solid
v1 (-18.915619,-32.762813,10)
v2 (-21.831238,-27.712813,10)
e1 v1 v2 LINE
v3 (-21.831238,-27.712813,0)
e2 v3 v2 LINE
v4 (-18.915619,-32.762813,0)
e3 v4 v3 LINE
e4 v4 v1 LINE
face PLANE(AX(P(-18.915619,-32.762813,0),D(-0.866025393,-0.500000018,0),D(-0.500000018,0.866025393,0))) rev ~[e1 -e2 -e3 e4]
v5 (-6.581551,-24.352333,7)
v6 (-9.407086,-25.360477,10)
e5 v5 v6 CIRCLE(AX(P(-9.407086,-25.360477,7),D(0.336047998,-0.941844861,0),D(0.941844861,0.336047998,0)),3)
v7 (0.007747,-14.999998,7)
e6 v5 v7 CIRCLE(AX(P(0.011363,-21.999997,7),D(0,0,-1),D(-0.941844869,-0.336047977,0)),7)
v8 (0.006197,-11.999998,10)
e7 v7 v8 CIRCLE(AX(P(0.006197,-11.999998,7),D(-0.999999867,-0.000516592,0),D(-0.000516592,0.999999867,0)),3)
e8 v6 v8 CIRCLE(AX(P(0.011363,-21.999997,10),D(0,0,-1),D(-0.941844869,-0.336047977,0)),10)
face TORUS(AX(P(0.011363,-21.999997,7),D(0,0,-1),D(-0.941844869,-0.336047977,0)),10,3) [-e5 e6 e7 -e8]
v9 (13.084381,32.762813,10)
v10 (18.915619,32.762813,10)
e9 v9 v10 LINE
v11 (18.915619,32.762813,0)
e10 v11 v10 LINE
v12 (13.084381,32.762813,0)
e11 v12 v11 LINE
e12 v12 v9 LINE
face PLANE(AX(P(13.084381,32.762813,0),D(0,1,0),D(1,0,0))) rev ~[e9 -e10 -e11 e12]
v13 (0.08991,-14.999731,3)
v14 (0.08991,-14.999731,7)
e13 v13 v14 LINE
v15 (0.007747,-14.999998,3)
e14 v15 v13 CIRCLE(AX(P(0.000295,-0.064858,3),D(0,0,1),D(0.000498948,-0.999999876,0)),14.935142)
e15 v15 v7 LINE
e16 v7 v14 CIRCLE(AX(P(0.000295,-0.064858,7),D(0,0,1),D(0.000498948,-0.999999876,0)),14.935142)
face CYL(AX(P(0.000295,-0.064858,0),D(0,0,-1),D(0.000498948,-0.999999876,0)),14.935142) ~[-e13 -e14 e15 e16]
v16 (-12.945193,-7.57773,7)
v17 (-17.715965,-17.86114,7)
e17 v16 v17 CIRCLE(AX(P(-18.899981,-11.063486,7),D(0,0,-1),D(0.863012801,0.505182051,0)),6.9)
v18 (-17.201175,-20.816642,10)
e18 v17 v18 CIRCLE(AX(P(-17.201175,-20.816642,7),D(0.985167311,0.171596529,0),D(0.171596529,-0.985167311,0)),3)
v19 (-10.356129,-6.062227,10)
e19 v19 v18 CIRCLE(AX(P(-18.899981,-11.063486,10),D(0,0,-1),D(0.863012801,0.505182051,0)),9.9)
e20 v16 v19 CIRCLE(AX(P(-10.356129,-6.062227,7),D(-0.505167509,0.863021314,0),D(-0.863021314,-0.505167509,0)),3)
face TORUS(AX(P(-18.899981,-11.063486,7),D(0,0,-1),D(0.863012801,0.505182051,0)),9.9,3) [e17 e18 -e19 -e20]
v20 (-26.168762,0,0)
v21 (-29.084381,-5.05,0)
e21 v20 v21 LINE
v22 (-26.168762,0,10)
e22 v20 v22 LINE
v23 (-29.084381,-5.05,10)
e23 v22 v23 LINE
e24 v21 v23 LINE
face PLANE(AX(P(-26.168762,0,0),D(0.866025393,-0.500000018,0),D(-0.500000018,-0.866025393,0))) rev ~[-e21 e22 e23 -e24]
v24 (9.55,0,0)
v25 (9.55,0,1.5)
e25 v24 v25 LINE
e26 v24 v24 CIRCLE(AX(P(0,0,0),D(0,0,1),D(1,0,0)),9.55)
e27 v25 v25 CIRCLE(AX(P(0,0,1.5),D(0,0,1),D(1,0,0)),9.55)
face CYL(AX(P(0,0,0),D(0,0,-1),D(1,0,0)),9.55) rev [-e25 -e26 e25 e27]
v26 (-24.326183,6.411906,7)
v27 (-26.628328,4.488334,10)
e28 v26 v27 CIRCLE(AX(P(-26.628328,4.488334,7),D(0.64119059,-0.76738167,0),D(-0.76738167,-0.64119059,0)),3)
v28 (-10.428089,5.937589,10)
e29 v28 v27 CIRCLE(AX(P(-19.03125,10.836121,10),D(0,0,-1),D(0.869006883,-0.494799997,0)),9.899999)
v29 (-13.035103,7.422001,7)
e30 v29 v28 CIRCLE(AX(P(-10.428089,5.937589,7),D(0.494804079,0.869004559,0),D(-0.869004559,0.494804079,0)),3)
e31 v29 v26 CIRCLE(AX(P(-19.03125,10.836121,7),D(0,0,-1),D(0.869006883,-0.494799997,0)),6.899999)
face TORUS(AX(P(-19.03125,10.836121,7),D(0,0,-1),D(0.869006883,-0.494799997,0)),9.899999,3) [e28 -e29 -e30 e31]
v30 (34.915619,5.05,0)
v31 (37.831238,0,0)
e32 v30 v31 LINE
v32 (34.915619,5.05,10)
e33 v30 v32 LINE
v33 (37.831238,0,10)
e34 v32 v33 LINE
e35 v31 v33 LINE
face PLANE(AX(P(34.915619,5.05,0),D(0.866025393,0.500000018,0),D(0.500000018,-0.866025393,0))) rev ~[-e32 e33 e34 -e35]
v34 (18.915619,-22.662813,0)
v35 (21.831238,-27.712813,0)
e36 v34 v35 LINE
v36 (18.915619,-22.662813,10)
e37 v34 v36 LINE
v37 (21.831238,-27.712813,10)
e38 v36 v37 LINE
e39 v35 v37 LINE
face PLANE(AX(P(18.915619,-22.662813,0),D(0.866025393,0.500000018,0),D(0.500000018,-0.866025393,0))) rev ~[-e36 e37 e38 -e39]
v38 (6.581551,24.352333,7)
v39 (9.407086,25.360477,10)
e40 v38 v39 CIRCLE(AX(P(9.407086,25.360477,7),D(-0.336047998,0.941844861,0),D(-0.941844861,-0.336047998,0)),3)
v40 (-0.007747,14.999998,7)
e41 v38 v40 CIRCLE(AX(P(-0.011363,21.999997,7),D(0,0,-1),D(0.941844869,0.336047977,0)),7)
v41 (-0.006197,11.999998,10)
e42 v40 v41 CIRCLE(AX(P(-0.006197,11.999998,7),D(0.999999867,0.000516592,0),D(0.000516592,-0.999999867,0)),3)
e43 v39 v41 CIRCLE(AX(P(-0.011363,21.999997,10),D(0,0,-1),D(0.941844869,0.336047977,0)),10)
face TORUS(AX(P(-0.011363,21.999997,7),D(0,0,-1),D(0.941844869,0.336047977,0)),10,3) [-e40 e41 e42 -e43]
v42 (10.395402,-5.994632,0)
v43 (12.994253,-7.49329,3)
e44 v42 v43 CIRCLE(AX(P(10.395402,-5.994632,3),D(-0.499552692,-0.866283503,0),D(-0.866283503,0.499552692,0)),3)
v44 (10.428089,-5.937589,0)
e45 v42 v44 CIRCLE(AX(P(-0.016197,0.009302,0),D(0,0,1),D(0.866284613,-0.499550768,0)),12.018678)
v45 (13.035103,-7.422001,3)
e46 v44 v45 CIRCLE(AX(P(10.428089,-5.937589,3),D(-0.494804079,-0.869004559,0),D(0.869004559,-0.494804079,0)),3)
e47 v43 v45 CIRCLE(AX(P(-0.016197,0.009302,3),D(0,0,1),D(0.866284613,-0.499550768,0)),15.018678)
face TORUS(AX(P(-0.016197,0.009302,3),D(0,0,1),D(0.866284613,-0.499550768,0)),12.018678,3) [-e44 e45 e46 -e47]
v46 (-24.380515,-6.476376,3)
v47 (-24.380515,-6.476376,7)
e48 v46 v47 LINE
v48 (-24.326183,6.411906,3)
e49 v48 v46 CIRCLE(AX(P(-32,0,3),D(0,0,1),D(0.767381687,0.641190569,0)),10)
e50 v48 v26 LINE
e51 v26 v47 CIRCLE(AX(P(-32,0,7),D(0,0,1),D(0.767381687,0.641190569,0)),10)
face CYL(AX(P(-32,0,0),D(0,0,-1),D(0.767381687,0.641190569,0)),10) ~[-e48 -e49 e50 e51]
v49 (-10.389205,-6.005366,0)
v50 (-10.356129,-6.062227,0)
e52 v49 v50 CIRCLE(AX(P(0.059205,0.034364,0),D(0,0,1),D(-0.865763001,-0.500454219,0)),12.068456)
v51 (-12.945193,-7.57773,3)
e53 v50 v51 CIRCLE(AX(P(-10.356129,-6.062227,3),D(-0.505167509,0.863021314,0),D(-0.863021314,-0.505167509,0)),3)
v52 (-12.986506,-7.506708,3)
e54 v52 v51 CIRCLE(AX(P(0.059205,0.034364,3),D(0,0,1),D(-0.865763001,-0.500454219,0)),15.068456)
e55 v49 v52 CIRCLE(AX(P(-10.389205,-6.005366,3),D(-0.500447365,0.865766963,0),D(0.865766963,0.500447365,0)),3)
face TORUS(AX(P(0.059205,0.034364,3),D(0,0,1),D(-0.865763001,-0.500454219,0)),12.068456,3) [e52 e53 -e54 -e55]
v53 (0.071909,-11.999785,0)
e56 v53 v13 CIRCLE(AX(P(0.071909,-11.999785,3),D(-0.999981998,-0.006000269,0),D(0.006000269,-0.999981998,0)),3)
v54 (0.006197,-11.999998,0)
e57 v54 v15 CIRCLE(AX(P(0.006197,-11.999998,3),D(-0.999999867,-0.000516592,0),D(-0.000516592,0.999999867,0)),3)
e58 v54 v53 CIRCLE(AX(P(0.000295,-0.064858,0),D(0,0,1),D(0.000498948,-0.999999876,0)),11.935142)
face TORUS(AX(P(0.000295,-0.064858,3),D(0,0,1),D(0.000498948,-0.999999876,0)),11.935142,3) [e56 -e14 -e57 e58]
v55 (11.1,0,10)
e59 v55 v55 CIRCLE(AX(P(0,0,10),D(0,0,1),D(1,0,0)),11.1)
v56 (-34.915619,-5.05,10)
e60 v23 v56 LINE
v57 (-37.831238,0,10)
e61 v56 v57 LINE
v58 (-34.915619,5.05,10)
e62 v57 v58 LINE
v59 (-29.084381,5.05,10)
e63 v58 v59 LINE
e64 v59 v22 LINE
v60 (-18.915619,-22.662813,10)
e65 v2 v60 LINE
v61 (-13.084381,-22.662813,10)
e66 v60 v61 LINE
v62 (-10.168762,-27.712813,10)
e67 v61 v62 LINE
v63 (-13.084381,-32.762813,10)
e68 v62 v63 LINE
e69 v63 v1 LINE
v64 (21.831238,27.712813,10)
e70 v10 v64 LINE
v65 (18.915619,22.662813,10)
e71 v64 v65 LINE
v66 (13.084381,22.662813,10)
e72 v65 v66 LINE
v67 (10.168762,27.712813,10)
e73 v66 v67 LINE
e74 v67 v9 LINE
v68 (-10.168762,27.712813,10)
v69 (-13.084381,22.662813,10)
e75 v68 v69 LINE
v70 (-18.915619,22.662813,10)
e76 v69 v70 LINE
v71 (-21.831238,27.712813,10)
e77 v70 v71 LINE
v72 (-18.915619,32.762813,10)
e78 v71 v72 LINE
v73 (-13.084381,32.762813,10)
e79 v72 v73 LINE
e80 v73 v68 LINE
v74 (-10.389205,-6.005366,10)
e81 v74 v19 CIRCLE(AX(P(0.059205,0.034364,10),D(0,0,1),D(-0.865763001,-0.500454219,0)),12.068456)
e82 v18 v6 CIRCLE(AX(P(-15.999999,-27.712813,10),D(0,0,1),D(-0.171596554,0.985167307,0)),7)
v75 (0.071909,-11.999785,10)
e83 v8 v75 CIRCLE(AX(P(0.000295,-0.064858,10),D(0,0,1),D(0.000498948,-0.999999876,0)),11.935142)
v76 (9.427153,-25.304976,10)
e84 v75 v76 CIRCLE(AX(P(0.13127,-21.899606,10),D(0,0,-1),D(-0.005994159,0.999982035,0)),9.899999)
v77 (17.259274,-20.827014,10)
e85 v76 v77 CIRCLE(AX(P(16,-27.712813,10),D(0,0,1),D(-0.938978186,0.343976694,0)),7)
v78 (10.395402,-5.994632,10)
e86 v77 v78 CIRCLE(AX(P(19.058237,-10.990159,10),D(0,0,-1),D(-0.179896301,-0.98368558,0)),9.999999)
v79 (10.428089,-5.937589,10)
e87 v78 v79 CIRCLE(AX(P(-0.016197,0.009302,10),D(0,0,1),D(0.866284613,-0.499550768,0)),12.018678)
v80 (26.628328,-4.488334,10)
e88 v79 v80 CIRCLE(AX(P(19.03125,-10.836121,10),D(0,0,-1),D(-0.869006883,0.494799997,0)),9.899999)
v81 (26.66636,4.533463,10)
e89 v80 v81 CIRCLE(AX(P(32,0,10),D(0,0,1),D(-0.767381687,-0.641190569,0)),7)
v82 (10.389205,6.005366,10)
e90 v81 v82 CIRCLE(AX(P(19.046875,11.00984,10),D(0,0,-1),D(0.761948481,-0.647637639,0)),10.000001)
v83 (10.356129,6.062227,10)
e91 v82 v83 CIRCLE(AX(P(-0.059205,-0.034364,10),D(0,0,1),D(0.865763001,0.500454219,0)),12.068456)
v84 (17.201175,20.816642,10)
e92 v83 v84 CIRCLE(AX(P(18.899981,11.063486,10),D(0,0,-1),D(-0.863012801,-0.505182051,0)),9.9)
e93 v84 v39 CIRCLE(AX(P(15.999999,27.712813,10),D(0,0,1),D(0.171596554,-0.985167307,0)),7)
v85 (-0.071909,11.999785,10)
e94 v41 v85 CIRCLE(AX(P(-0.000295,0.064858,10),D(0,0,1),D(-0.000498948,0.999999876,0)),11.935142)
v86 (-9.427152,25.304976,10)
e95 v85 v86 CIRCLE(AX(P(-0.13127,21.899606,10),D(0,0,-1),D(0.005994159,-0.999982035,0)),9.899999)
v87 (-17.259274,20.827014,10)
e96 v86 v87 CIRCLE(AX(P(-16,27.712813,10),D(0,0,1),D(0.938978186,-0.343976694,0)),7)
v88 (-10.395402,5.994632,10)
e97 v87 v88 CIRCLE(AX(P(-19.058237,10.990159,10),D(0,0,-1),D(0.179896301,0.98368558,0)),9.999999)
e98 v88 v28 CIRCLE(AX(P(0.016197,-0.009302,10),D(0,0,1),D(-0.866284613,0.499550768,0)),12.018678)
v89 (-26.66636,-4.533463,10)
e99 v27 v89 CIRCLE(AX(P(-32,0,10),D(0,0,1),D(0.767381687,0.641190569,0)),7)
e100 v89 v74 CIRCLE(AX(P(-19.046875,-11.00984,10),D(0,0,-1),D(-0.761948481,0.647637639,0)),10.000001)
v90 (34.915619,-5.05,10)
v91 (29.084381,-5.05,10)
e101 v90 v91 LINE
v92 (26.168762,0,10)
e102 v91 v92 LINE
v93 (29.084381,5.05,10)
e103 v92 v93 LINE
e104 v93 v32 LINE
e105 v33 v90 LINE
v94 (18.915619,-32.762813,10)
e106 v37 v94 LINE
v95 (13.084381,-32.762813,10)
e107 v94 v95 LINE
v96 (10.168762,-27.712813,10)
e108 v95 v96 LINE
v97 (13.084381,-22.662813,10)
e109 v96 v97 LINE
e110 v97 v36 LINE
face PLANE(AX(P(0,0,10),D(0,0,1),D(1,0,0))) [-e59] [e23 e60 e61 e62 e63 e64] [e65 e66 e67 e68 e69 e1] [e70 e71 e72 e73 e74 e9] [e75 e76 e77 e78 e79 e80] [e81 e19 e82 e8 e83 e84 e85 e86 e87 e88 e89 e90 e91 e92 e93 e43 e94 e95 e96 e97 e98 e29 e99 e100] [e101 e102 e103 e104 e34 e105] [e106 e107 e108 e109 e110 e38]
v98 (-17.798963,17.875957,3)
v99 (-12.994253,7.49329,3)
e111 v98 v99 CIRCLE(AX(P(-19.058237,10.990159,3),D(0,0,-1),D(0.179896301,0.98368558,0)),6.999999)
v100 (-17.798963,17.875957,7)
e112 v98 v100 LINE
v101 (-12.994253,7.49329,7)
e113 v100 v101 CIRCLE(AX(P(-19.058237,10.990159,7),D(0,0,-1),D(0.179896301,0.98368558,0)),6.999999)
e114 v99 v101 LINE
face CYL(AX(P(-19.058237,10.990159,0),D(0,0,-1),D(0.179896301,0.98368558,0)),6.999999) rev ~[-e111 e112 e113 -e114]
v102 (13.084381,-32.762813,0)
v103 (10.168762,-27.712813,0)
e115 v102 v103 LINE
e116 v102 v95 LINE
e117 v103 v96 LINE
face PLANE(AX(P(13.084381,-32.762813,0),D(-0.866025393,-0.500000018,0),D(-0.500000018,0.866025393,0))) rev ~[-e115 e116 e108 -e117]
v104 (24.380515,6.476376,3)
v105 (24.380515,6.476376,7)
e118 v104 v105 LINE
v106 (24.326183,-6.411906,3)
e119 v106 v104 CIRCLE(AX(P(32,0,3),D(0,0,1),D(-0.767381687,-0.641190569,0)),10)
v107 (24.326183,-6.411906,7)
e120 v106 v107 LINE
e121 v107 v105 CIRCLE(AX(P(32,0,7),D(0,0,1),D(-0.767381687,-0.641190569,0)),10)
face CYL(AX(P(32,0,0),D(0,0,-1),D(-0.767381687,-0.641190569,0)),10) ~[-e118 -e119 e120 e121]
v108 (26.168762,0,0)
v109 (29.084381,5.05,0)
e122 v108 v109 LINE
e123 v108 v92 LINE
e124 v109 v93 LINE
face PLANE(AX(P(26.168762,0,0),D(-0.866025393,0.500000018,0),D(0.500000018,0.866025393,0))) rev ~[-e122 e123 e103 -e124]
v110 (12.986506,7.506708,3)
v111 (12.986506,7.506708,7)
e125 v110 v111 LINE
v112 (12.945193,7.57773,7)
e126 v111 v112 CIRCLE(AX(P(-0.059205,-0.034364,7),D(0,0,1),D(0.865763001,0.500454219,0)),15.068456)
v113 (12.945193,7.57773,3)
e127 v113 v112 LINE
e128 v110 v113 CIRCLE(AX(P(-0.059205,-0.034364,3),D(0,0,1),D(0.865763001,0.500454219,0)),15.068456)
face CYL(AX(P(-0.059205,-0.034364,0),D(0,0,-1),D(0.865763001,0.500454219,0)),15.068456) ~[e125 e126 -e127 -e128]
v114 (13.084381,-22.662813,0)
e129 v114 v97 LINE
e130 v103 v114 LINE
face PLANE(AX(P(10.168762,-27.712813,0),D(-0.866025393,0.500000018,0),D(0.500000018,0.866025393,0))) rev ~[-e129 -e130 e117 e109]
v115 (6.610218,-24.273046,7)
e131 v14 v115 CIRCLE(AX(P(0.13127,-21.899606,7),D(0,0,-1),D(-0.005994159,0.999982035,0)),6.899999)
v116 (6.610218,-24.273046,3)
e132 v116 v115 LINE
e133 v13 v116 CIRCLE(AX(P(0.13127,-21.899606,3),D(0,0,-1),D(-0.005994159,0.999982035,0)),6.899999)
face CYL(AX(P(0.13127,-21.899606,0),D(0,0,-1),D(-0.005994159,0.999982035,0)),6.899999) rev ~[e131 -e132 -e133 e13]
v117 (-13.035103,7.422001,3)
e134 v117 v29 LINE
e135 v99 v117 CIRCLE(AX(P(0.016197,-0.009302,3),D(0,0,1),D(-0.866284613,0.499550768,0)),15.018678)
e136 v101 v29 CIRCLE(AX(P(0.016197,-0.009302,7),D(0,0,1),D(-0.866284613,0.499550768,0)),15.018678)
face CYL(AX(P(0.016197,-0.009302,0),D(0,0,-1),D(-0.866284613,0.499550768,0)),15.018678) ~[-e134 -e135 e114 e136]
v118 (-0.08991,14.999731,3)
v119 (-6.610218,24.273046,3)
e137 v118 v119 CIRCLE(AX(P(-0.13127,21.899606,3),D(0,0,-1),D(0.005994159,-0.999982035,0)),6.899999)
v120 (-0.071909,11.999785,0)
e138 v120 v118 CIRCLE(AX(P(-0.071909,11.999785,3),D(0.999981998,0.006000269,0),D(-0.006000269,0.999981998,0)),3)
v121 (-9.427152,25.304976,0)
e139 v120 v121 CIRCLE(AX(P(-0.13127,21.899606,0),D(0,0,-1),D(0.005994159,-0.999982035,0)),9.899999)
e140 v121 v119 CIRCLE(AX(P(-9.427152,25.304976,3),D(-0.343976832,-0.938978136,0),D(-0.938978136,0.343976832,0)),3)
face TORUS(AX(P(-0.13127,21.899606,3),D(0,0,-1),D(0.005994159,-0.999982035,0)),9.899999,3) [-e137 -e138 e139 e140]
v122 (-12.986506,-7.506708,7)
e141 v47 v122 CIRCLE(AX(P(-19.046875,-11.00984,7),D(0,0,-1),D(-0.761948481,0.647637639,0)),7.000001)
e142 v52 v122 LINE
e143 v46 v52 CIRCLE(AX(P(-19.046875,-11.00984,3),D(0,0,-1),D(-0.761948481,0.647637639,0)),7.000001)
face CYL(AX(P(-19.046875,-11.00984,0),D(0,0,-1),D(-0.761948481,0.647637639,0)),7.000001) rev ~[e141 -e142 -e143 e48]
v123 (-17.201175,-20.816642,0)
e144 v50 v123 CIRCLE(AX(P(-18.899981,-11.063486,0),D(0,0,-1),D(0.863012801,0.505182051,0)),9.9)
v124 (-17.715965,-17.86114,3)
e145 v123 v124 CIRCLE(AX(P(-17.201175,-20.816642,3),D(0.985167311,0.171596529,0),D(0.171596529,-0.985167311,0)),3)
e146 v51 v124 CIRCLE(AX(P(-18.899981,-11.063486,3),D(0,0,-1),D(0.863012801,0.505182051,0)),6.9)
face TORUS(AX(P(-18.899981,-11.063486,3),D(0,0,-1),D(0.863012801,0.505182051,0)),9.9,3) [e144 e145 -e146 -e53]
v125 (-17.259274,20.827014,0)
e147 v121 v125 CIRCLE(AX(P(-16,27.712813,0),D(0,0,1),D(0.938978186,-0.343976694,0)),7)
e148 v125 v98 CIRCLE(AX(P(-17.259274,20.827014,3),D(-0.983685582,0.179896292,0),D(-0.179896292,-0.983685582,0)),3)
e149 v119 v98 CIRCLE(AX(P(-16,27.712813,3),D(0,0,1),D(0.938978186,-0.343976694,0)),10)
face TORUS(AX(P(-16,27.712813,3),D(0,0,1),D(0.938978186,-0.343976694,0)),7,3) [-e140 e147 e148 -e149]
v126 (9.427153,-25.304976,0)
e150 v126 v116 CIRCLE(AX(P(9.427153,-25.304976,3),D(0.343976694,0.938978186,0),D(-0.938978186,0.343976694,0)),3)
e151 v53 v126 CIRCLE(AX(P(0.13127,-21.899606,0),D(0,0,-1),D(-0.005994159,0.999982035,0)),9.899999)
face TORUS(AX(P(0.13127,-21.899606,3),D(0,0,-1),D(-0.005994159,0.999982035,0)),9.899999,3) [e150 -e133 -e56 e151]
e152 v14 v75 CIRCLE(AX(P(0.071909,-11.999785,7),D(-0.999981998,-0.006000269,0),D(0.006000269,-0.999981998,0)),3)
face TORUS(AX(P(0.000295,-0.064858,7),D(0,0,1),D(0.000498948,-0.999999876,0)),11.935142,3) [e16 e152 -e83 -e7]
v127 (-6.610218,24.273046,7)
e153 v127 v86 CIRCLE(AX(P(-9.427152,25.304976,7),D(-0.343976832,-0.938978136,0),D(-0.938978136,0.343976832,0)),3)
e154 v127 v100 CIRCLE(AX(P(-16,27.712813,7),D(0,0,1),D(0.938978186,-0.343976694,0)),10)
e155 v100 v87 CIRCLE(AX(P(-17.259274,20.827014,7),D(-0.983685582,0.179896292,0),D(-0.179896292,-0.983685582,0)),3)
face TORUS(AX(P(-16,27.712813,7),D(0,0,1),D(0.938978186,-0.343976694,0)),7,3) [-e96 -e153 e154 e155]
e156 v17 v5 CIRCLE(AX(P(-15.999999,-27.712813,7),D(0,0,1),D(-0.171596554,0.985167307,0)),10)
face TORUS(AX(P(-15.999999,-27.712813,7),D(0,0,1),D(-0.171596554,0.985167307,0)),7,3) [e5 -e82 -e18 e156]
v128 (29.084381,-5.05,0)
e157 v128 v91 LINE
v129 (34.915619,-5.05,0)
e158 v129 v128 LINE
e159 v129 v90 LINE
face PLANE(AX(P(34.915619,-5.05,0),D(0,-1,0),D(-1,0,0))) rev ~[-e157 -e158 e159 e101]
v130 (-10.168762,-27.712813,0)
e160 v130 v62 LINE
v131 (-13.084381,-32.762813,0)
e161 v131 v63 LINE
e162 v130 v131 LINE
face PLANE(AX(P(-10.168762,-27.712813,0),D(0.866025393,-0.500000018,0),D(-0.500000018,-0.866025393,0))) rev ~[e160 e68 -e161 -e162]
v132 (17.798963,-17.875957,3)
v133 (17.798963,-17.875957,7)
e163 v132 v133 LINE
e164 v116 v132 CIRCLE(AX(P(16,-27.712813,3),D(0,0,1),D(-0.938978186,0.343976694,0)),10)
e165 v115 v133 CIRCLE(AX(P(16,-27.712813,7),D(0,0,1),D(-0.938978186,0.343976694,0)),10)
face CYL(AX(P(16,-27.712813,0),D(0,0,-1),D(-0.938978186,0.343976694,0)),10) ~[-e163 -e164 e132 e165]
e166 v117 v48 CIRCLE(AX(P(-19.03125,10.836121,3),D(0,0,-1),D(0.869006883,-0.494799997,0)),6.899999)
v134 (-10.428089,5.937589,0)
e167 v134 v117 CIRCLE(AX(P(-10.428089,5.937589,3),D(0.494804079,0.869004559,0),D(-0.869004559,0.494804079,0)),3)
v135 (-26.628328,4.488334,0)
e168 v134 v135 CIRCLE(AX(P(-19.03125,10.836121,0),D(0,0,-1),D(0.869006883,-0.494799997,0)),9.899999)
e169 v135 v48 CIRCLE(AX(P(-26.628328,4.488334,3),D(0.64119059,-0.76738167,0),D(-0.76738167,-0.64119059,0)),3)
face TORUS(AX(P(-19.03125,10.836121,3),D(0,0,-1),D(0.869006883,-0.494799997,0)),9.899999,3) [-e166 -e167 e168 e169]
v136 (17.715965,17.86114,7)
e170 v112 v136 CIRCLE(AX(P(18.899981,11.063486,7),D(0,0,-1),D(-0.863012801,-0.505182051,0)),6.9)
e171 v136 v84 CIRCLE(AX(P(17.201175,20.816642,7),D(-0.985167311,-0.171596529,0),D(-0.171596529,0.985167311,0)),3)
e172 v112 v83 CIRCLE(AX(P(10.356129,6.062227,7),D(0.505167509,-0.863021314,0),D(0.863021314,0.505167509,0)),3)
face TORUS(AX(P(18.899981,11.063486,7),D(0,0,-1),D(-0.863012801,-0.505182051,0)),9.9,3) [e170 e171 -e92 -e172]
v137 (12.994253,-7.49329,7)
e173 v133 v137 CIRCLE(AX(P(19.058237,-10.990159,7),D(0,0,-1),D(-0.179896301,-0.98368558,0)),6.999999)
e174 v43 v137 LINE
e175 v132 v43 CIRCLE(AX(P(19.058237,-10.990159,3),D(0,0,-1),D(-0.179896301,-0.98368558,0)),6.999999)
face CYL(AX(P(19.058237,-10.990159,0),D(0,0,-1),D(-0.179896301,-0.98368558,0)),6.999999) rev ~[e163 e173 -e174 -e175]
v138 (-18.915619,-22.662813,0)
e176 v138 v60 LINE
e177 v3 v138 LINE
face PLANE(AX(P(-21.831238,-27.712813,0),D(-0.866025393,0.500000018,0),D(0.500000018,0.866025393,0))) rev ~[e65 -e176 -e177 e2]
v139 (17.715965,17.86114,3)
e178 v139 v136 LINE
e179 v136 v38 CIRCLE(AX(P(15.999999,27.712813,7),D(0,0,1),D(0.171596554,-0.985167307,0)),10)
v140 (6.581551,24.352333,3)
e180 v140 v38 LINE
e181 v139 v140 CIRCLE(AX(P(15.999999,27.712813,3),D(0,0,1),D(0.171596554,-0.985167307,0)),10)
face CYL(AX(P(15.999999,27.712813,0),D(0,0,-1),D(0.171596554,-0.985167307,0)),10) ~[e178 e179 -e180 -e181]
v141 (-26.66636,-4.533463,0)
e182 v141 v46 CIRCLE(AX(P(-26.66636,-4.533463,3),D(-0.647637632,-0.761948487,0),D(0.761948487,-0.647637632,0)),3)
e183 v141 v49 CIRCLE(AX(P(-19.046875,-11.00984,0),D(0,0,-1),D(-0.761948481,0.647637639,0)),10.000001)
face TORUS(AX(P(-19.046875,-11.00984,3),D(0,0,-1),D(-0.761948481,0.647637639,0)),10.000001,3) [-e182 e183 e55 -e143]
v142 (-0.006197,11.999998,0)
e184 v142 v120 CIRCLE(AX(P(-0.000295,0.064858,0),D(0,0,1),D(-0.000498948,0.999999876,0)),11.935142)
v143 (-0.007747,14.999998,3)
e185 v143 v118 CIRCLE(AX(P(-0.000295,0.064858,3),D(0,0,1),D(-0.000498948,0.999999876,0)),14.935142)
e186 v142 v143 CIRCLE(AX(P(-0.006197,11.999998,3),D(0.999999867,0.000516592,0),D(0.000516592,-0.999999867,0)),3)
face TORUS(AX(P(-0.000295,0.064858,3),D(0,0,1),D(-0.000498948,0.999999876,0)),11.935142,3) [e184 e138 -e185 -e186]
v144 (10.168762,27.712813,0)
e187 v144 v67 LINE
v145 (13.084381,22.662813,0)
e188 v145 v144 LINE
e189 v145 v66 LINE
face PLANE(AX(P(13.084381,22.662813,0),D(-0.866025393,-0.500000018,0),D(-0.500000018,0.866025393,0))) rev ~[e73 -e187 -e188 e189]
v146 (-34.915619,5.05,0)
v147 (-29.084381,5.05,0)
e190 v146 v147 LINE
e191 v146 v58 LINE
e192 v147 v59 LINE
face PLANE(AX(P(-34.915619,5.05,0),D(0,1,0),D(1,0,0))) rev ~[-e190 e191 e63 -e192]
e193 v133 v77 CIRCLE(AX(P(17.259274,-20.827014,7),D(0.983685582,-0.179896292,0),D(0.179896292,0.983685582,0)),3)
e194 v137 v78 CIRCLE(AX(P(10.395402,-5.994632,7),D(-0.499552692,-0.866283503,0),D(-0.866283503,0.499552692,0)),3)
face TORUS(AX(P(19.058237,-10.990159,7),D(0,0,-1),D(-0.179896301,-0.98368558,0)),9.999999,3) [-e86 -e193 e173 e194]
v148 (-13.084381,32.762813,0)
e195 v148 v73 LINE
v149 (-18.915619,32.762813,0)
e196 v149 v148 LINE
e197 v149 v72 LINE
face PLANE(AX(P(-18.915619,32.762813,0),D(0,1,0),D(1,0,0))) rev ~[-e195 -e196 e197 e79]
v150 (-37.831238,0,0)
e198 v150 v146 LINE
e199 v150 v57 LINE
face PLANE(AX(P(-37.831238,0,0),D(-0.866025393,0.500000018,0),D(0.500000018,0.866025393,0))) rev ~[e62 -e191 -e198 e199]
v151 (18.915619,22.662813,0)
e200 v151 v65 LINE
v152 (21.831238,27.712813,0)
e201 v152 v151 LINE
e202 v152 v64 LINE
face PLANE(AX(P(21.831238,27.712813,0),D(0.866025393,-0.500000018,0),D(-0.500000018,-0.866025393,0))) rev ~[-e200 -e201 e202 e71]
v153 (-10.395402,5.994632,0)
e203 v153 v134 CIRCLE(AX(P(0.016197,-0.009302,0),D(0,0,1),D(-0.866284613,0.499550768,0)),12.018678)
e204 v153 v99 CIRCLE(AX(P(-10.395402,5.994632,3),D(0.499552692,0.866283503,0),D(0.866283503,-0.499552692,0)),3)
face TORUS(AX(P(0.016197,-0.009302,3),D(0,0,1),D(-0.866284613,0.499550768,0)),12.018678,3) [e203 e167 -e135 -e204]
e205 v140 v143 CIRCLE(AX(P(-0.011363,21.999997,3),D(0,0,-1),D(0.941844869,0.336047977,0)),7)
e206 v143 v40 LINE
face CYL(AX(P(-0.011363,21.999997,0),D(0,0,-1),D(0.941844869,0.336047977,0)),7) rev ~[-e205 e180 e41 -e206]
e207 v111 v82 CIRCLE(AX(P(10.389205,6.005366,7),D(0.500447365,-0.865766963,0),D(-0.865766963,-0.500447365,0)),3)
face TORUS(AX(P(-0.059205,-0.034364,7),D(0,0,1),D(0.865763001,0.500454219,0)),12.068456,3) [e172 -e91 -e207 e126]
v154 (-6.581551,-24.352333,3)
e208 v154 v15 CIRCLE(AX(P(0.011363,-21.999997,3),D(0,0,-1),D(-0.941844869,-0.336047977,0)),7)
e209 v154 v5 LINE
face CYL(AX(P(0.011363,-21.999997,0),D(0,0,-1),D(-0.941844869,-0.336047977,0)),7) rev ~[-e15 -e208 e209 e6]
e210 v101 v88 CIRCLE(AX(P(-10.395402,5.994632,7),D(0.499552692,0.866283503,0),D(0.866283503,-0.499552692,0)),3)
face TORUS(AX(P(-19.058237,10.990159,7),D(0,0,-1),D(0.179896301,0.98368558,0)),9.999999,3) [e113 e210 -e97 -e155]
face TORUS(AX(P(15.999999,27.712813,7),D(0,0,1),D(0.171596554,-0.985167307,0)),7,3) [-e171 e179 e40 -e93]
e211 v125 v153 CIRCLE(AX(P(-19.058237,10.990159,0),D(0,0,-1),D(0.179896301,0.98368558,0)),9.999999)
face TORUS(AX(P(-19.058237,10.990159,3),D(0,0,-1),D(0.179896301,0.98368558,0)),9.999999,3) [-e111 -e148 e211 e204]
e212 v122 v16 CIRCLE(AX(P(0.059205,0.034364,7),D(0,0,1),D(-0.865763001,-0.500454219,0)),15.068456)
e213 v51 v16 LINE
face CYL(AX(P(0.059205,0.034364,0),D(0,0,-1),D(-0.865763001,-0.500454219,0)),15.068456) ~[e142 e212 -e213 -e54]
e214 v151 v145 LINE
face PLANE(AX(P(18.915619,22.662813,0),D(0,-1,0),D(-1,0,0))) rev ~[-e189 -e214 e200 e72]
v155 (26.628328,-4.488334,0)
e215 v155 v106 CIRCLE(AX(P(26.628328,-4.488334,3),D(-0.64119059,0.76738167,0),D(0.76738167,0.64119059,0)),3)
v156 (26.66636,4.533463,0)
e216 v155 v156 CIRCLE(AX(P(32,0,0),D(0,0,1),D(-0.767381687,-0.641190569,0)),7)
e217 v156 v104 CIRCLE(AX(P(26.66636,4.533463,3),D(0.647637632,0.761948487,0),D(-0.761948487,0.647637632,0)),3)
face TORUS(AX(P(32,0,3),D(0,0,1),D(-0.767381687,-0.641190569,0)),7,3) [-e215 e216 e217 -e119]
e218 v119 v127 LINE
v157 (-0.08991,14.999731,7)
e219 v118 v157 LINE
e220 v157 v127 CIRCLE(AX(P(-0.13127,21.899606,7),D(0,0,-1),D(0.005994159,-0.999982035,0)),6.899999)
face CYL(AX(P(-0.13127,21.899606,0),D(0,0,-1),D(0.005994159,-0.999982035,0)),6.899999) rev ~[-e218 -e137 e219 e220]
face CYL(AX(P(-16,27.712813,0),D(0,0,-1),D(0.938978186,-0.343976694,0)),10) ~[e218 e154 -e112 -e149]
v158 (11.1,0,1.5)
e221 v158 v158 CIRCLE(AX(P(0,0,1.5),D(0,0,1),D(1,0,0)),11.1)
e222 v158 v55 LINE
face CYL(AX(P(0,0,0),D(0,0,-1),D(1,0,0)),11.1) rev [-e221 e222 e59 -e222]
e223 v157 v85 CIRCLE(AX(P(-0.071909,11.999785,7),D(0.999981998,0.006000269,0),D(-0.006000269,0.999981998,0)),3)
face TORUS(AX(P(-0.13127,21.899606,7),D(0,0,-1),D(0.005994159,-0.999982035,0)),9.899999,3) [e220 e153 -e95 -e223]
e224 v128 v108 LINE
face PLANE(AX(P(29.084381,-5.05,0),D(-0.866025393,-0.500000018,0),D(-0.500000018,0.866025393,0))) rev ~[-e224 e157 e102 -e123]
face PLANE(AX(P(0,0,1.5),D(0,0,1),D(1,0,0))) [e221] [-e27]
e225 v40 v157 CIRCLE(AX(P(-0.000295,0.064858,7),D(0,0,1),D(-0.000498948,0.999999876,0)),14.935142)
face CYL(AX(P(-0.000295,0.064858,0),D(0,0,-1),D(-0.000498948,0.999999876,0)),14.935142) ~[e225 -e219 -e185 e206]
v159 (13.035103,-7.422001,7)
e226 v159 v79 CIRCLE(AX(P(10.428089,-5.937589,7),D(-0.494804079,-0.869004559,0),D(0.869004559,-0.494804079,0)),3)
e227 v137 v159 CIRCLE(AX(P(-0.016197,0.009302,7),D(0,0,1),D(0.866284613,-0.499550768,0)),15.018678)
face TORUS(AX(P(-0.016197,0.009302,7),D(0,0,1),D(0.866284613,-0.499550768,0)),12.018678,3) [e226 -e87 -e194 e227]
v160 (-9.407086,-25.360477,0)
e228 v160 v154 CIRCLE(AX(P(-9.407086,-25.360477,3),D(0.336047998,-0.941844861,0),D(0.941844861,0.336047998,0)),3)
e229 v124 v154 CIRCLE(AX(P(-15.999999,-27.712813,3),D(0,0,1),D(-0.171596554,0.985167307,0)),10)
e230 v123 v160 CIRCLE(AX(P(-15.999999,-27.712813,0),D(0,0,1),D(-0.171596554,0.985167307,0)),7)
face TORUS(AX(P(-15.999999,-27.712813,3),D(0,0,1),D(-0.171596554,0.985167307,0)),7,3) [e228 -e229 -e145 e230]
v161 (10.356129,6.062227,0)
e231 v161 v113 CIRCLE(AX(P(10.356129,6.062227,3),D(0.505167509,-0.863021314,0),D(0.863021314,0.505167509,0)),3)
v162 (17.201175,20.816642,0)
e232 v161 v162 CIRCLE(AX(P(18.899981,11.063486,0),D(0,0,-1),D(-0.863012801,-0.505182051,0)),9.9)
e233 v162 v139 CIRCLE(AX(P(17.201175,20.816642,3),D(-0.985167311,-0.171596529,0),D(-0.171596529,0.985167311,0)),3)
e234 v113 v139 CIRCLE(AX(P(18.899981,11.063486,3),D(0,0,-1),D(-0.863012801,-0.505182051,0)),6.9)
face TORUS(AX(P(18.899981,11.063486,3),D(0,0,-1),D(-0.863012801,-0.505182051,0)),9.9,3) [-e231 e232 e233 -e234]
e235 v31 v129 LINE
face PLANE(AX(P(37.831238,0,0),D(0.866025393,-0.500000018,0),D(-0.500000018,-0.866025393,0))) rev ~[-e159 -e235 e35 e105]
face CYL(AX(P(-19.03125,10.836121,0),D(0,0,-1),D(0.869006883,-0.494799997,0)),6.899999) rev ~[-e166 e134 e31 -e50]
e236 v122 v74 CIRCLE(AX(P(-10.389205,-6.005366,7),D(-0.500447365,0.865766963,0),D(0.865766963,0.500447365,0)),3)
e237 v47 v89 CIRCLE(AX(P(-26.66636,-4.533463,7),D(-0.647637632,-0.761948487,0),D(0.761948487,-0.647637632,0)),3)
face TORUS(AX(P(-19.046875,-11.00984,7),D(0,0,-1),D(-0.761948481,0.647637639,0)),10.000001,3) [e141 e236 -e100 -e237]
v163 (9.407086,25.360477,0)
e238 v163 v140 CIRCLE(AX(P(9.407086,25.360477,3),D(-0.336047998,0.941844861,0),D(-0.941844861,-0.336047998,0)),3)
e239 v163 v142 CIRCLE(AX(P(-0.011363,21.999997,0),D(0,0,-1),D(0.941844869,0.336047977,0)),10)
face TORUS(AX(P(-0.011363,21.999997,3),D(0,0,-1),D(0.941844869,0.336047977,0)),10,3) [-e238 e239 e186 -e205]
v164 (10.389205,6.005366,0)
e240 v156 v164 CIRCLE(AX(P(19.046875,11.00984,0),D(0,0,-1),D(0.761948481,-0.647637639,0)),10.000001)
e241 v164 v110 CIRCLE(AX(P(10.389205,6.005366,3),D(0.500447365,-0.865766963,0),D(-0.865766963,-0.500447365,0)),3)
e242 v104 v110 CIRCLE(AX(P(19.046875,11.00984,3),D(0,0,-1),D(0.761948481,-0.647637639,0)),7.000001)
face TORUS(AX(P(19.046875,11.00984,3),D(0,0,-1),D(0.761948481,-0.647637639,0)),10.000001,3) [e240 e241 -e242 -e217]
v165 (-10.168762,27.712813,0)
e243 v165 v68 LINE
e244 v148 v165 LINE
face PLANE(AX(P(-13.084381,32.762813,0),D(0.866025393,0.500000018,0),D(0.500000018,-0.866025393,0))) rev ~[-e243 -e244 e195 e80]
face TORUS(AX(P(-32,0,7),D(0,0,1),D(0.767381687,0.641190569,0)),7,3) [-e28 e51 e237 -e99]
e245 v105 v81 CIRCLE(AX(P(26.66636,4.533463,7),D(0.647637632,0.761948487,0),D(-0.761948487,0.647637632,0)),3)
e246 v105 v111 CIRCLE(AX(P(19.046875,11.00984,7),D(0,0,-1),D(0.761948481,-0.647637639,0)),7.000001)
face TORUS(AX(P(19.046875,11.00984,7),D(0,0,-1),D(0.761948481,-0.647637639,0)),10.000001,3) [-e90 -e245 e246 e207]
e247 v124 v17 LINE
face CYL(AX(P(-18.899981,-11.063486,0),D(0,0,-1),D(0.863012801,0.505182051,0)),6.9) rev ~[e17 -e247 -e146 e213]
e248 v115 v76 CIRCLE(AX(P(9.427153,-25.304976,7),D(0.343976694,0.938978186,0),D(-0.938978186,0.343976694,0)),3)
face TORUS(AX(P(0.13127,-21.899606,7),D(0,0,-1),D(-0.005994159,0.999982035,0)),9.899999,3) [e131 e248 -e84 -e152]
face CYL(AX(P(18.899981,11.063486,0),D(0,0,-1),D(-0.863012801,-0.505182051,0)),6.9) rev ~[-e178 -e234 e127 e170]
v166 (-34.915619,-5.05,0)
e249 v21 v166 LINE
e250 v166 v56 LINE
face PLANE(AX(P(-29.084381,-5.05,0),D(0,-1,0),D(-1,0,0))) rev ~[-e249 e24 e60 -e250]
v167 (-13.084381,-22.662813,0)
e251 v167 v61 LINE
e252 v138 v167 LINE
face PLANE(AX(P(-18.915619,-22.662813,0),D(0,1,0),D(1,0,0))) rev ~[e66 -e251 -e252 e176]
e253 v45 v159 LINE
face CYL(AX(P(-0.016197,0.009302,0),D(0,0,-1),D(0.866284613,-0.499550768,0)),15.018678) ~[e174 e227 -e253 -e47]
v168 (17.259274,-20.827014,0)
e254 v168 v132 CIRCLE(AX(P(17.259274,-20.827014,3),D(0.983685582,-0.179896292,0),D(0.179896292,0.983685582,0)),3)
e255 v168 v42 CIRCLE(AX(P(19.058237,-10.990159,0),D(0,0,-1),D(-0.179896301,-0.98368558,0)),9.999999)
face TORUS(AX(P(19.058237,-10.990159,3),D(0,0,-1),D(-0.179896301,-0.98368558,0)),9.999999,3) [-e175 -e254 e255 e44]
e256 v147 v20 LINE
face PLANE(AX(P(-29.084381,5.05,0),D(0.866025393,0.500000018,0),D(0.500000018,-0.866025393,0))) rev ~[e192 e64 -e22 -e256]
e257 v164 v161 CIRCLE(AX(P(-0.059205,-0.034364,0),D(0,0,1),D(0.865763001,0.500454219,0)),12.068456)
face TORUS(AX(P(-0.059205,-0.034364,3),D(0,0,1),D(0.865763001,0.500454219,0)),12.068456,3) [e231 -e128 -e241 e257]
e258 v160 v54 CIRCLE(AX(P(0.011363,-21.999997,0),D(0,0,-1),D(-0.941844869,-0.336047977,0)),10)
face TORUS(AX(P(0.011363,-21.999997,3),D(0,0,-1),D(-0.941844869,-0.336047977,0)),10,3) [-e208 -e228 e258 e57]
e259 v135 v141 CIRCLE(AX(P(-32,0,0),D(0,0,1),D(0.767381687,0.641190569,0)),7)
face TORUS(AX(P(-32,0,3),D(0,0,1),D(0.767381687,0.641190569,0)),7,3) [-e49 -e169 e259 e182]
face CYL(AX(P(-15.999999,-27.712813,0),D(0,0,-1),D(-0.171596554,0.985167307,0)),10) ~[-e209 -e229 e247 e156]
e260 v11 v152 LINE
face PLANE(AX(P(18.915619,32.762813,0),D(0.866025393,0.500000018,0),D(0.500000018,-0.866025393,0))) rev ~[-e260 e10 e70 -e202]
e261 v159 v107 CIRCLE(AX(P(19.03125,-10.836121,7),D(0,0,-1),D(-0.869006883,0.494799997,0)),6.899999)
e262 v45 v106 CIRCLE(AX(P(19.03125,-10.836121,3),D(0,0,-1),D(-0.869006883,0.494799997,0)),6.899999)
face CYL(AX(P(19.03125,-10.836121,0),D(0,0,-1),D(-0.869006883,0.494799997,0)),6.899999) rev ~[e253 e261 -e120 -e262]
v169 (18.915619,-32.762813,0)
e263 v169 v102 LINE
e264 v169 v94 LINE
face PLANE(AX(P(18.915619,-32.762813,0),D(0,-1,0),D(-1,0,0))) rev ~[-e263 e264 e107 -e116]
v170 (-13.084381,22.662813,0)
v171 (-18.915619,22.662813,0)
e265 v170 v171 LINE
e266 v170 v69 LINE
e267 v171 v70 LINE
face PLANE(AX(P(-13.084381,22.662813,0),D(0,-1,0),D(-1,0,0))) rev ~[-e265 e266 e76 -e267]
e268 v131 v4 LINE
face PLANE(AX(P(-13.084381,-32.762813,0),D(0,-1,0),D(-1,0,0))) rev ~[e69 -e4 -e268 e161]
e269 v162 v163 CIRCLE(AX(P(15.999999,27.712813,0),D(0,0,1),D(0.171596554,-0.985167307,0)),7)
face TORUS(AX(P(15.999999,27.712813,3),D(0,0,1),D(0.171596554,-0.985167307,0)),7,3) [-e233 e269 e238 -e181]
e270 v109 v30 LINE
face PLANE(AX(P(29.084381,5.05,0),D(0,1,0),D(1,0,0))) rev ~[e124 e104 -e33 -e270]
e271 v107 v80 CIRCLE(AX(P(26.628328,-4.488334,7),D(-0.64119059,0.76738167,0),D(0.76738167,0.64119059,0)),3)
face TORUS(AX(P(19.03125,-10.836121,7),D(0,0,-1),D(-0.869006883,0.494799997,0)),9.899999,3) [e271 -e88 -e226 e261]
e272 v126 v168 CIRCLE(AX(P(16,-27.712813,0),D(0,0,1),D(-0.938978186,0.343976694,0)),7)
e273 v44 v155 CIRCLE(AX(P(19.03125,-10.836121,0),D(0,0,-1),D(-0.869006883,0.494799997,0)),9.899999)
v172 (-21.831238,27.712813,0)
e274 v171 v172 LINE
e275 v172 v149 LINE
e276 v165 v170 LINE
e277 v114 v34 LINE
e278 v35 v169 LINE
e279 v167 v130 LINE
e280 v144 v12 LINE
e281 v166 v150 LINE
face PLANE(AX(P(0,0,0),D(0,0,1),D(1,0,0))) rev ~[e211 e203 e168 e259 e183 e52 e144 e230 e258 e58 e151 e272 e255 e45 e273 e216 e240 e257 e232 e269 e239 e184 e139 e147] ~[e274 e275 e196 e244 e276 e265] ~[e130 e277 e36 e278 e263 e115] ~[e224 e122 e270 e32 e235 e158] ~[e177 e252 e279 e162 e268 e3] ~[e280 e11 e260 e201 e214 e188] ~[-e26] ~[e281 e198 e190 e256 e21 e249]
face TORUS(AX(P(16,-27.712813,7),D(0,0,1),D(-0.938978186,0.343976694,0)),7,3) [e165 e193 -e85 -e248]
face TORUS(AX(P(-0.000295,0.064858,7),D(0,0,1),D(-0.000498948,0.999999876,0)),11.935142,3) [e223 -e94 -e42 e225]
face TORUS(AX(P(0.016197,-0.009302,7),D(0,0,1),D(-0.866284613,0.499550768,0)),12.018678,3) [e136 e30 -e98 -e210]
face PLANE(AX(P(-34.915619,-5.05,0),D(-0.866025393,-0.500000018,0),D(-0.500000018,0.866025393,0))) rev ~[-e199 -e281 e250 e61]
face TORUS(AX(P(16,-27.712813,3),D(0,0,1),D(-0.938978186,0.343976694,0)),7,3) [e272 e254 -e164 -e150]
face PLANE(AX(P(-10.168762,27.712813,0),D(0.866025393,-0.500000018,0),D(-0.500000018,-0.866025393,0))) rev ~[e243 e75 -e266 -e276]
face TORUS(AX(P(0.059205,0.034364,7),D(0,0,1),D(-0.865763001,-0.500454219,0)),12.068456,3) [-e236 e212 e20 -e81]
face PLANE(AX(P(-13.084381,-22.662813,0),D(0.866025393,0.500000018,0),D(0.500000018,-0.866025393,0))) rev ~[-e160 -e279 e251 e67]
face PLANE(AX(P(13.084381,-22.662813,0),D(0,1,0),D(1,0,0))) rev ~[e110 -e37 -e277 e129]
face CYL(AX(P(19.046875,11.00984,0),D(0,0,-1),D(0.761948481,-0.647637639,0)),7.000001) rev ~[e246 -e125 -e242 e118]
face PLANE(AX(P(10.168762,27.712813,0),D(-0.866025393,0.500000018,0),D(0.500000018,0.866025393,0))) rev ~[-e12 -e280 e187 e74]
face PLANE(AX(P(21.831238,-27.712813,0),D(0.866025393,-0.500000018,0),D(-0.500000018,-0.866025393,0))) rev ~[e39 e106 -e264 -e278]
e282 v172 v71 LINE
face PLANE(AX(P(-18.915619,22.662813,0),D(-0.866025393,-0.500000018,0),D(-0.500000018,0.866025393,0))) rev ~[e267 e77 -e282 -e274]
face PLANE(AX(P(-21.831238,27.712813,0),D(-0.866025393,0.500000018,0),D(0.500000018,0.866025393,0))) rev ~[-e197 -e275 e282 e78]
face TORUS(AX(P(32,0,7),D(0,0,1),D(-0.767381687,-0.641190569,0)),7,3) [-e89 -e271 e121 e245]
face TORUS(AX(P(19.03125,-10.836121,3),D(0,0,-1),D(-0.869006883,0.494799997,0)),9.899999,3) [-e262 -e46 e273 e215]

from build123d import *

# Parameters (mm, degrees)
F0_R     = 11.1
F1_DEPTH = 10
F2_R     = 11.1
F2_R_2   = 9.55
F3_DEPTH = 1.5
F4_R     = 3


with BuildPart() as f1:
    # F0 (on Top) → F1 (new body)
    with BuildSketch(Plane.XY):
        with BuildLine():
            ThreePointArc((24.380515, 6.476376), (18.416454, 4.038285), (12.986506, 7.506708))
            ThreePointArc((12.986506, 7.506708), (12.965898, 7.542247), (12.945193, 7.57773))
            ThreePointArc((12.945193, 7.57773), (12.640767, 13.967317), (17.715965, 17.86114))
            ThreePointArc((17.715965, 17.86114), (21.036463, 36.351912), (6.581551, 24.352333))
            ThreePointArc((6.581551, 24.352333), (5.71097, 17.96826), (-0.007747, 14.999998))
            ThreePointArc((-0.007747, 14.999998), (-0.048829, 14.999921), (-0.08991, 14.999731))
            ThreePointArc((-0.08991, 14.999731), (-5.775668, 17.930884), (-6.610218, 24.273046))
            ThreePointArc((-6.610218, 24.273046), (-20.963448, 36.394068), (-17.798963, 17.875957))
            ThreePointArc((-17.798963, 17.875957), (-12.705484, 13.929975), (-12.994253, 7.49329))
            ThreePointArc((-12.994253, 7.49329), (-13.014727, 7.457673), (-13.035103, 7.422001))
            ThreePointArc((-13.035103, 7.422001), (-18.416435, 3.963567), (-24.326183, 6.411906))
            ThreePointArc((-24.326183, 6.411906), (-41.999911, 0.042155), (-24.380515, -6.476376))
            ThreePointArc((-24.380515, -6.476376), (-18.416454, -4.038285), (-12.986506, -7.506708))
            ThreePointArc((-12.986506, -7.506708), (-12.965898, -7.542247), (-12.945193, -7.57773))
            ThreePointArc((-12.945193, -7.57773), (-12.640767, -13.967317), (-17.715965, -17.86114))
            ThreePointArc((-17.715965, -17.86114), (-21.036463, -36.351912), (-6.581551, -24.352333))
            ThreePointArc((-6.581551, -24.352333), (-5.71097, -17.96826), (0.007747, -14.999998))
            ThreePointArc((0.007747, -14.999998), (0.048829, -14.999921), (0.08991, -14.999731))
            ThreePointArc((0.08991, -14.999731), (5.775668, -17.930884), (6.610218, -24.273046))
            ThreePointArc((6.610218, -24.273046), (20.963448, -36.394068), (17.798963, -17.875957))
            ThreePointArc((17.798963, -17.875957), (12.705484, -13.929975), (12.994253, -7.49329))
            ThreePointArc((12.994253, -7.49329), (13.014727, -7.457673), (13.035103, -7.422001))
            ThreePointArc((13.035103, -7.422001), (18.416435, -3.963567), (24.326183, -6.411906))
            ThreePointArc((24.326183, -6.411906), (41.999911, -0.042155), (24.380515, 6.476376))
        make_face()
        Polygon((-18.915619, -22.662813), (-13.084381, -22.662813), (-10.168762, -27.712813), (-13.084381, -32.762813), (-18.915619, -32.762813), (-21.831238, -27.712813), align=None, mode=Mode.SUBTRACT)
        Polygon((-29.084381, 5.05), (-26.168762, 0), (-29.084381, -5.05), (-34.915619, -5.05), (-37.831238, 0), (-34.915619, 5.05), align=None, mode=Mode.SUBTRACT)
        Polygon((10.168762, -27.712813), (13.084381, -22.662813), (18.915619, -22.662813), (21.831238, -27.712813), (18.915619, -32.762813), (13.084381, -32.762813), align=None, mode=Mode.SUBTRACT)
        Polygon((-10.168762, 27.712813), (-13.084381, 22.662813), (-18.915619, 22.662813), (-21.831238, 27.712813), (-18.915619, 32.762813), (-13.084381, 32.762813), align=None, mode=Mode.SUBTRACT)
        Circle(F0_R, mode=Mode.SUBTRACT)
        Polygon((29.084381, -5.05), (26.168762, 0), (29.084381, 5.05), (34.915619, 5.05), (37.831238, 0), (34.915619, -5.05), align=None, mode=Mode.SUBTRACT)
        Polygon((18.915619, 22.662813), (13.084381, 22.662813), (10.168762, 27.712813), (13.084381, 32.762813), (18.915619, 32.762813), (21.831238, 27.712813), align=None, mode=Mode.SUBTRACT)
    extrude(amount=F1_DEPTH)

    # F2 (on Top) → F3 (join)
    with BuildSketch(Plane.XY):
        Circle(F2_R)
        Circle(F2_R_2, mode=Mode.SUBTRACT)
    extrude(amount=F3_DEPTH)

    # F4
    f4_edges = [f1.edges().sort_by_distance(p)[0] for p in [
        (20.963448, -36.394068, 0),
        (20.963448, -36.394068, 10),
    ]]
    fillet(f4_edges, radius=F4_R)


solid = f1.part
